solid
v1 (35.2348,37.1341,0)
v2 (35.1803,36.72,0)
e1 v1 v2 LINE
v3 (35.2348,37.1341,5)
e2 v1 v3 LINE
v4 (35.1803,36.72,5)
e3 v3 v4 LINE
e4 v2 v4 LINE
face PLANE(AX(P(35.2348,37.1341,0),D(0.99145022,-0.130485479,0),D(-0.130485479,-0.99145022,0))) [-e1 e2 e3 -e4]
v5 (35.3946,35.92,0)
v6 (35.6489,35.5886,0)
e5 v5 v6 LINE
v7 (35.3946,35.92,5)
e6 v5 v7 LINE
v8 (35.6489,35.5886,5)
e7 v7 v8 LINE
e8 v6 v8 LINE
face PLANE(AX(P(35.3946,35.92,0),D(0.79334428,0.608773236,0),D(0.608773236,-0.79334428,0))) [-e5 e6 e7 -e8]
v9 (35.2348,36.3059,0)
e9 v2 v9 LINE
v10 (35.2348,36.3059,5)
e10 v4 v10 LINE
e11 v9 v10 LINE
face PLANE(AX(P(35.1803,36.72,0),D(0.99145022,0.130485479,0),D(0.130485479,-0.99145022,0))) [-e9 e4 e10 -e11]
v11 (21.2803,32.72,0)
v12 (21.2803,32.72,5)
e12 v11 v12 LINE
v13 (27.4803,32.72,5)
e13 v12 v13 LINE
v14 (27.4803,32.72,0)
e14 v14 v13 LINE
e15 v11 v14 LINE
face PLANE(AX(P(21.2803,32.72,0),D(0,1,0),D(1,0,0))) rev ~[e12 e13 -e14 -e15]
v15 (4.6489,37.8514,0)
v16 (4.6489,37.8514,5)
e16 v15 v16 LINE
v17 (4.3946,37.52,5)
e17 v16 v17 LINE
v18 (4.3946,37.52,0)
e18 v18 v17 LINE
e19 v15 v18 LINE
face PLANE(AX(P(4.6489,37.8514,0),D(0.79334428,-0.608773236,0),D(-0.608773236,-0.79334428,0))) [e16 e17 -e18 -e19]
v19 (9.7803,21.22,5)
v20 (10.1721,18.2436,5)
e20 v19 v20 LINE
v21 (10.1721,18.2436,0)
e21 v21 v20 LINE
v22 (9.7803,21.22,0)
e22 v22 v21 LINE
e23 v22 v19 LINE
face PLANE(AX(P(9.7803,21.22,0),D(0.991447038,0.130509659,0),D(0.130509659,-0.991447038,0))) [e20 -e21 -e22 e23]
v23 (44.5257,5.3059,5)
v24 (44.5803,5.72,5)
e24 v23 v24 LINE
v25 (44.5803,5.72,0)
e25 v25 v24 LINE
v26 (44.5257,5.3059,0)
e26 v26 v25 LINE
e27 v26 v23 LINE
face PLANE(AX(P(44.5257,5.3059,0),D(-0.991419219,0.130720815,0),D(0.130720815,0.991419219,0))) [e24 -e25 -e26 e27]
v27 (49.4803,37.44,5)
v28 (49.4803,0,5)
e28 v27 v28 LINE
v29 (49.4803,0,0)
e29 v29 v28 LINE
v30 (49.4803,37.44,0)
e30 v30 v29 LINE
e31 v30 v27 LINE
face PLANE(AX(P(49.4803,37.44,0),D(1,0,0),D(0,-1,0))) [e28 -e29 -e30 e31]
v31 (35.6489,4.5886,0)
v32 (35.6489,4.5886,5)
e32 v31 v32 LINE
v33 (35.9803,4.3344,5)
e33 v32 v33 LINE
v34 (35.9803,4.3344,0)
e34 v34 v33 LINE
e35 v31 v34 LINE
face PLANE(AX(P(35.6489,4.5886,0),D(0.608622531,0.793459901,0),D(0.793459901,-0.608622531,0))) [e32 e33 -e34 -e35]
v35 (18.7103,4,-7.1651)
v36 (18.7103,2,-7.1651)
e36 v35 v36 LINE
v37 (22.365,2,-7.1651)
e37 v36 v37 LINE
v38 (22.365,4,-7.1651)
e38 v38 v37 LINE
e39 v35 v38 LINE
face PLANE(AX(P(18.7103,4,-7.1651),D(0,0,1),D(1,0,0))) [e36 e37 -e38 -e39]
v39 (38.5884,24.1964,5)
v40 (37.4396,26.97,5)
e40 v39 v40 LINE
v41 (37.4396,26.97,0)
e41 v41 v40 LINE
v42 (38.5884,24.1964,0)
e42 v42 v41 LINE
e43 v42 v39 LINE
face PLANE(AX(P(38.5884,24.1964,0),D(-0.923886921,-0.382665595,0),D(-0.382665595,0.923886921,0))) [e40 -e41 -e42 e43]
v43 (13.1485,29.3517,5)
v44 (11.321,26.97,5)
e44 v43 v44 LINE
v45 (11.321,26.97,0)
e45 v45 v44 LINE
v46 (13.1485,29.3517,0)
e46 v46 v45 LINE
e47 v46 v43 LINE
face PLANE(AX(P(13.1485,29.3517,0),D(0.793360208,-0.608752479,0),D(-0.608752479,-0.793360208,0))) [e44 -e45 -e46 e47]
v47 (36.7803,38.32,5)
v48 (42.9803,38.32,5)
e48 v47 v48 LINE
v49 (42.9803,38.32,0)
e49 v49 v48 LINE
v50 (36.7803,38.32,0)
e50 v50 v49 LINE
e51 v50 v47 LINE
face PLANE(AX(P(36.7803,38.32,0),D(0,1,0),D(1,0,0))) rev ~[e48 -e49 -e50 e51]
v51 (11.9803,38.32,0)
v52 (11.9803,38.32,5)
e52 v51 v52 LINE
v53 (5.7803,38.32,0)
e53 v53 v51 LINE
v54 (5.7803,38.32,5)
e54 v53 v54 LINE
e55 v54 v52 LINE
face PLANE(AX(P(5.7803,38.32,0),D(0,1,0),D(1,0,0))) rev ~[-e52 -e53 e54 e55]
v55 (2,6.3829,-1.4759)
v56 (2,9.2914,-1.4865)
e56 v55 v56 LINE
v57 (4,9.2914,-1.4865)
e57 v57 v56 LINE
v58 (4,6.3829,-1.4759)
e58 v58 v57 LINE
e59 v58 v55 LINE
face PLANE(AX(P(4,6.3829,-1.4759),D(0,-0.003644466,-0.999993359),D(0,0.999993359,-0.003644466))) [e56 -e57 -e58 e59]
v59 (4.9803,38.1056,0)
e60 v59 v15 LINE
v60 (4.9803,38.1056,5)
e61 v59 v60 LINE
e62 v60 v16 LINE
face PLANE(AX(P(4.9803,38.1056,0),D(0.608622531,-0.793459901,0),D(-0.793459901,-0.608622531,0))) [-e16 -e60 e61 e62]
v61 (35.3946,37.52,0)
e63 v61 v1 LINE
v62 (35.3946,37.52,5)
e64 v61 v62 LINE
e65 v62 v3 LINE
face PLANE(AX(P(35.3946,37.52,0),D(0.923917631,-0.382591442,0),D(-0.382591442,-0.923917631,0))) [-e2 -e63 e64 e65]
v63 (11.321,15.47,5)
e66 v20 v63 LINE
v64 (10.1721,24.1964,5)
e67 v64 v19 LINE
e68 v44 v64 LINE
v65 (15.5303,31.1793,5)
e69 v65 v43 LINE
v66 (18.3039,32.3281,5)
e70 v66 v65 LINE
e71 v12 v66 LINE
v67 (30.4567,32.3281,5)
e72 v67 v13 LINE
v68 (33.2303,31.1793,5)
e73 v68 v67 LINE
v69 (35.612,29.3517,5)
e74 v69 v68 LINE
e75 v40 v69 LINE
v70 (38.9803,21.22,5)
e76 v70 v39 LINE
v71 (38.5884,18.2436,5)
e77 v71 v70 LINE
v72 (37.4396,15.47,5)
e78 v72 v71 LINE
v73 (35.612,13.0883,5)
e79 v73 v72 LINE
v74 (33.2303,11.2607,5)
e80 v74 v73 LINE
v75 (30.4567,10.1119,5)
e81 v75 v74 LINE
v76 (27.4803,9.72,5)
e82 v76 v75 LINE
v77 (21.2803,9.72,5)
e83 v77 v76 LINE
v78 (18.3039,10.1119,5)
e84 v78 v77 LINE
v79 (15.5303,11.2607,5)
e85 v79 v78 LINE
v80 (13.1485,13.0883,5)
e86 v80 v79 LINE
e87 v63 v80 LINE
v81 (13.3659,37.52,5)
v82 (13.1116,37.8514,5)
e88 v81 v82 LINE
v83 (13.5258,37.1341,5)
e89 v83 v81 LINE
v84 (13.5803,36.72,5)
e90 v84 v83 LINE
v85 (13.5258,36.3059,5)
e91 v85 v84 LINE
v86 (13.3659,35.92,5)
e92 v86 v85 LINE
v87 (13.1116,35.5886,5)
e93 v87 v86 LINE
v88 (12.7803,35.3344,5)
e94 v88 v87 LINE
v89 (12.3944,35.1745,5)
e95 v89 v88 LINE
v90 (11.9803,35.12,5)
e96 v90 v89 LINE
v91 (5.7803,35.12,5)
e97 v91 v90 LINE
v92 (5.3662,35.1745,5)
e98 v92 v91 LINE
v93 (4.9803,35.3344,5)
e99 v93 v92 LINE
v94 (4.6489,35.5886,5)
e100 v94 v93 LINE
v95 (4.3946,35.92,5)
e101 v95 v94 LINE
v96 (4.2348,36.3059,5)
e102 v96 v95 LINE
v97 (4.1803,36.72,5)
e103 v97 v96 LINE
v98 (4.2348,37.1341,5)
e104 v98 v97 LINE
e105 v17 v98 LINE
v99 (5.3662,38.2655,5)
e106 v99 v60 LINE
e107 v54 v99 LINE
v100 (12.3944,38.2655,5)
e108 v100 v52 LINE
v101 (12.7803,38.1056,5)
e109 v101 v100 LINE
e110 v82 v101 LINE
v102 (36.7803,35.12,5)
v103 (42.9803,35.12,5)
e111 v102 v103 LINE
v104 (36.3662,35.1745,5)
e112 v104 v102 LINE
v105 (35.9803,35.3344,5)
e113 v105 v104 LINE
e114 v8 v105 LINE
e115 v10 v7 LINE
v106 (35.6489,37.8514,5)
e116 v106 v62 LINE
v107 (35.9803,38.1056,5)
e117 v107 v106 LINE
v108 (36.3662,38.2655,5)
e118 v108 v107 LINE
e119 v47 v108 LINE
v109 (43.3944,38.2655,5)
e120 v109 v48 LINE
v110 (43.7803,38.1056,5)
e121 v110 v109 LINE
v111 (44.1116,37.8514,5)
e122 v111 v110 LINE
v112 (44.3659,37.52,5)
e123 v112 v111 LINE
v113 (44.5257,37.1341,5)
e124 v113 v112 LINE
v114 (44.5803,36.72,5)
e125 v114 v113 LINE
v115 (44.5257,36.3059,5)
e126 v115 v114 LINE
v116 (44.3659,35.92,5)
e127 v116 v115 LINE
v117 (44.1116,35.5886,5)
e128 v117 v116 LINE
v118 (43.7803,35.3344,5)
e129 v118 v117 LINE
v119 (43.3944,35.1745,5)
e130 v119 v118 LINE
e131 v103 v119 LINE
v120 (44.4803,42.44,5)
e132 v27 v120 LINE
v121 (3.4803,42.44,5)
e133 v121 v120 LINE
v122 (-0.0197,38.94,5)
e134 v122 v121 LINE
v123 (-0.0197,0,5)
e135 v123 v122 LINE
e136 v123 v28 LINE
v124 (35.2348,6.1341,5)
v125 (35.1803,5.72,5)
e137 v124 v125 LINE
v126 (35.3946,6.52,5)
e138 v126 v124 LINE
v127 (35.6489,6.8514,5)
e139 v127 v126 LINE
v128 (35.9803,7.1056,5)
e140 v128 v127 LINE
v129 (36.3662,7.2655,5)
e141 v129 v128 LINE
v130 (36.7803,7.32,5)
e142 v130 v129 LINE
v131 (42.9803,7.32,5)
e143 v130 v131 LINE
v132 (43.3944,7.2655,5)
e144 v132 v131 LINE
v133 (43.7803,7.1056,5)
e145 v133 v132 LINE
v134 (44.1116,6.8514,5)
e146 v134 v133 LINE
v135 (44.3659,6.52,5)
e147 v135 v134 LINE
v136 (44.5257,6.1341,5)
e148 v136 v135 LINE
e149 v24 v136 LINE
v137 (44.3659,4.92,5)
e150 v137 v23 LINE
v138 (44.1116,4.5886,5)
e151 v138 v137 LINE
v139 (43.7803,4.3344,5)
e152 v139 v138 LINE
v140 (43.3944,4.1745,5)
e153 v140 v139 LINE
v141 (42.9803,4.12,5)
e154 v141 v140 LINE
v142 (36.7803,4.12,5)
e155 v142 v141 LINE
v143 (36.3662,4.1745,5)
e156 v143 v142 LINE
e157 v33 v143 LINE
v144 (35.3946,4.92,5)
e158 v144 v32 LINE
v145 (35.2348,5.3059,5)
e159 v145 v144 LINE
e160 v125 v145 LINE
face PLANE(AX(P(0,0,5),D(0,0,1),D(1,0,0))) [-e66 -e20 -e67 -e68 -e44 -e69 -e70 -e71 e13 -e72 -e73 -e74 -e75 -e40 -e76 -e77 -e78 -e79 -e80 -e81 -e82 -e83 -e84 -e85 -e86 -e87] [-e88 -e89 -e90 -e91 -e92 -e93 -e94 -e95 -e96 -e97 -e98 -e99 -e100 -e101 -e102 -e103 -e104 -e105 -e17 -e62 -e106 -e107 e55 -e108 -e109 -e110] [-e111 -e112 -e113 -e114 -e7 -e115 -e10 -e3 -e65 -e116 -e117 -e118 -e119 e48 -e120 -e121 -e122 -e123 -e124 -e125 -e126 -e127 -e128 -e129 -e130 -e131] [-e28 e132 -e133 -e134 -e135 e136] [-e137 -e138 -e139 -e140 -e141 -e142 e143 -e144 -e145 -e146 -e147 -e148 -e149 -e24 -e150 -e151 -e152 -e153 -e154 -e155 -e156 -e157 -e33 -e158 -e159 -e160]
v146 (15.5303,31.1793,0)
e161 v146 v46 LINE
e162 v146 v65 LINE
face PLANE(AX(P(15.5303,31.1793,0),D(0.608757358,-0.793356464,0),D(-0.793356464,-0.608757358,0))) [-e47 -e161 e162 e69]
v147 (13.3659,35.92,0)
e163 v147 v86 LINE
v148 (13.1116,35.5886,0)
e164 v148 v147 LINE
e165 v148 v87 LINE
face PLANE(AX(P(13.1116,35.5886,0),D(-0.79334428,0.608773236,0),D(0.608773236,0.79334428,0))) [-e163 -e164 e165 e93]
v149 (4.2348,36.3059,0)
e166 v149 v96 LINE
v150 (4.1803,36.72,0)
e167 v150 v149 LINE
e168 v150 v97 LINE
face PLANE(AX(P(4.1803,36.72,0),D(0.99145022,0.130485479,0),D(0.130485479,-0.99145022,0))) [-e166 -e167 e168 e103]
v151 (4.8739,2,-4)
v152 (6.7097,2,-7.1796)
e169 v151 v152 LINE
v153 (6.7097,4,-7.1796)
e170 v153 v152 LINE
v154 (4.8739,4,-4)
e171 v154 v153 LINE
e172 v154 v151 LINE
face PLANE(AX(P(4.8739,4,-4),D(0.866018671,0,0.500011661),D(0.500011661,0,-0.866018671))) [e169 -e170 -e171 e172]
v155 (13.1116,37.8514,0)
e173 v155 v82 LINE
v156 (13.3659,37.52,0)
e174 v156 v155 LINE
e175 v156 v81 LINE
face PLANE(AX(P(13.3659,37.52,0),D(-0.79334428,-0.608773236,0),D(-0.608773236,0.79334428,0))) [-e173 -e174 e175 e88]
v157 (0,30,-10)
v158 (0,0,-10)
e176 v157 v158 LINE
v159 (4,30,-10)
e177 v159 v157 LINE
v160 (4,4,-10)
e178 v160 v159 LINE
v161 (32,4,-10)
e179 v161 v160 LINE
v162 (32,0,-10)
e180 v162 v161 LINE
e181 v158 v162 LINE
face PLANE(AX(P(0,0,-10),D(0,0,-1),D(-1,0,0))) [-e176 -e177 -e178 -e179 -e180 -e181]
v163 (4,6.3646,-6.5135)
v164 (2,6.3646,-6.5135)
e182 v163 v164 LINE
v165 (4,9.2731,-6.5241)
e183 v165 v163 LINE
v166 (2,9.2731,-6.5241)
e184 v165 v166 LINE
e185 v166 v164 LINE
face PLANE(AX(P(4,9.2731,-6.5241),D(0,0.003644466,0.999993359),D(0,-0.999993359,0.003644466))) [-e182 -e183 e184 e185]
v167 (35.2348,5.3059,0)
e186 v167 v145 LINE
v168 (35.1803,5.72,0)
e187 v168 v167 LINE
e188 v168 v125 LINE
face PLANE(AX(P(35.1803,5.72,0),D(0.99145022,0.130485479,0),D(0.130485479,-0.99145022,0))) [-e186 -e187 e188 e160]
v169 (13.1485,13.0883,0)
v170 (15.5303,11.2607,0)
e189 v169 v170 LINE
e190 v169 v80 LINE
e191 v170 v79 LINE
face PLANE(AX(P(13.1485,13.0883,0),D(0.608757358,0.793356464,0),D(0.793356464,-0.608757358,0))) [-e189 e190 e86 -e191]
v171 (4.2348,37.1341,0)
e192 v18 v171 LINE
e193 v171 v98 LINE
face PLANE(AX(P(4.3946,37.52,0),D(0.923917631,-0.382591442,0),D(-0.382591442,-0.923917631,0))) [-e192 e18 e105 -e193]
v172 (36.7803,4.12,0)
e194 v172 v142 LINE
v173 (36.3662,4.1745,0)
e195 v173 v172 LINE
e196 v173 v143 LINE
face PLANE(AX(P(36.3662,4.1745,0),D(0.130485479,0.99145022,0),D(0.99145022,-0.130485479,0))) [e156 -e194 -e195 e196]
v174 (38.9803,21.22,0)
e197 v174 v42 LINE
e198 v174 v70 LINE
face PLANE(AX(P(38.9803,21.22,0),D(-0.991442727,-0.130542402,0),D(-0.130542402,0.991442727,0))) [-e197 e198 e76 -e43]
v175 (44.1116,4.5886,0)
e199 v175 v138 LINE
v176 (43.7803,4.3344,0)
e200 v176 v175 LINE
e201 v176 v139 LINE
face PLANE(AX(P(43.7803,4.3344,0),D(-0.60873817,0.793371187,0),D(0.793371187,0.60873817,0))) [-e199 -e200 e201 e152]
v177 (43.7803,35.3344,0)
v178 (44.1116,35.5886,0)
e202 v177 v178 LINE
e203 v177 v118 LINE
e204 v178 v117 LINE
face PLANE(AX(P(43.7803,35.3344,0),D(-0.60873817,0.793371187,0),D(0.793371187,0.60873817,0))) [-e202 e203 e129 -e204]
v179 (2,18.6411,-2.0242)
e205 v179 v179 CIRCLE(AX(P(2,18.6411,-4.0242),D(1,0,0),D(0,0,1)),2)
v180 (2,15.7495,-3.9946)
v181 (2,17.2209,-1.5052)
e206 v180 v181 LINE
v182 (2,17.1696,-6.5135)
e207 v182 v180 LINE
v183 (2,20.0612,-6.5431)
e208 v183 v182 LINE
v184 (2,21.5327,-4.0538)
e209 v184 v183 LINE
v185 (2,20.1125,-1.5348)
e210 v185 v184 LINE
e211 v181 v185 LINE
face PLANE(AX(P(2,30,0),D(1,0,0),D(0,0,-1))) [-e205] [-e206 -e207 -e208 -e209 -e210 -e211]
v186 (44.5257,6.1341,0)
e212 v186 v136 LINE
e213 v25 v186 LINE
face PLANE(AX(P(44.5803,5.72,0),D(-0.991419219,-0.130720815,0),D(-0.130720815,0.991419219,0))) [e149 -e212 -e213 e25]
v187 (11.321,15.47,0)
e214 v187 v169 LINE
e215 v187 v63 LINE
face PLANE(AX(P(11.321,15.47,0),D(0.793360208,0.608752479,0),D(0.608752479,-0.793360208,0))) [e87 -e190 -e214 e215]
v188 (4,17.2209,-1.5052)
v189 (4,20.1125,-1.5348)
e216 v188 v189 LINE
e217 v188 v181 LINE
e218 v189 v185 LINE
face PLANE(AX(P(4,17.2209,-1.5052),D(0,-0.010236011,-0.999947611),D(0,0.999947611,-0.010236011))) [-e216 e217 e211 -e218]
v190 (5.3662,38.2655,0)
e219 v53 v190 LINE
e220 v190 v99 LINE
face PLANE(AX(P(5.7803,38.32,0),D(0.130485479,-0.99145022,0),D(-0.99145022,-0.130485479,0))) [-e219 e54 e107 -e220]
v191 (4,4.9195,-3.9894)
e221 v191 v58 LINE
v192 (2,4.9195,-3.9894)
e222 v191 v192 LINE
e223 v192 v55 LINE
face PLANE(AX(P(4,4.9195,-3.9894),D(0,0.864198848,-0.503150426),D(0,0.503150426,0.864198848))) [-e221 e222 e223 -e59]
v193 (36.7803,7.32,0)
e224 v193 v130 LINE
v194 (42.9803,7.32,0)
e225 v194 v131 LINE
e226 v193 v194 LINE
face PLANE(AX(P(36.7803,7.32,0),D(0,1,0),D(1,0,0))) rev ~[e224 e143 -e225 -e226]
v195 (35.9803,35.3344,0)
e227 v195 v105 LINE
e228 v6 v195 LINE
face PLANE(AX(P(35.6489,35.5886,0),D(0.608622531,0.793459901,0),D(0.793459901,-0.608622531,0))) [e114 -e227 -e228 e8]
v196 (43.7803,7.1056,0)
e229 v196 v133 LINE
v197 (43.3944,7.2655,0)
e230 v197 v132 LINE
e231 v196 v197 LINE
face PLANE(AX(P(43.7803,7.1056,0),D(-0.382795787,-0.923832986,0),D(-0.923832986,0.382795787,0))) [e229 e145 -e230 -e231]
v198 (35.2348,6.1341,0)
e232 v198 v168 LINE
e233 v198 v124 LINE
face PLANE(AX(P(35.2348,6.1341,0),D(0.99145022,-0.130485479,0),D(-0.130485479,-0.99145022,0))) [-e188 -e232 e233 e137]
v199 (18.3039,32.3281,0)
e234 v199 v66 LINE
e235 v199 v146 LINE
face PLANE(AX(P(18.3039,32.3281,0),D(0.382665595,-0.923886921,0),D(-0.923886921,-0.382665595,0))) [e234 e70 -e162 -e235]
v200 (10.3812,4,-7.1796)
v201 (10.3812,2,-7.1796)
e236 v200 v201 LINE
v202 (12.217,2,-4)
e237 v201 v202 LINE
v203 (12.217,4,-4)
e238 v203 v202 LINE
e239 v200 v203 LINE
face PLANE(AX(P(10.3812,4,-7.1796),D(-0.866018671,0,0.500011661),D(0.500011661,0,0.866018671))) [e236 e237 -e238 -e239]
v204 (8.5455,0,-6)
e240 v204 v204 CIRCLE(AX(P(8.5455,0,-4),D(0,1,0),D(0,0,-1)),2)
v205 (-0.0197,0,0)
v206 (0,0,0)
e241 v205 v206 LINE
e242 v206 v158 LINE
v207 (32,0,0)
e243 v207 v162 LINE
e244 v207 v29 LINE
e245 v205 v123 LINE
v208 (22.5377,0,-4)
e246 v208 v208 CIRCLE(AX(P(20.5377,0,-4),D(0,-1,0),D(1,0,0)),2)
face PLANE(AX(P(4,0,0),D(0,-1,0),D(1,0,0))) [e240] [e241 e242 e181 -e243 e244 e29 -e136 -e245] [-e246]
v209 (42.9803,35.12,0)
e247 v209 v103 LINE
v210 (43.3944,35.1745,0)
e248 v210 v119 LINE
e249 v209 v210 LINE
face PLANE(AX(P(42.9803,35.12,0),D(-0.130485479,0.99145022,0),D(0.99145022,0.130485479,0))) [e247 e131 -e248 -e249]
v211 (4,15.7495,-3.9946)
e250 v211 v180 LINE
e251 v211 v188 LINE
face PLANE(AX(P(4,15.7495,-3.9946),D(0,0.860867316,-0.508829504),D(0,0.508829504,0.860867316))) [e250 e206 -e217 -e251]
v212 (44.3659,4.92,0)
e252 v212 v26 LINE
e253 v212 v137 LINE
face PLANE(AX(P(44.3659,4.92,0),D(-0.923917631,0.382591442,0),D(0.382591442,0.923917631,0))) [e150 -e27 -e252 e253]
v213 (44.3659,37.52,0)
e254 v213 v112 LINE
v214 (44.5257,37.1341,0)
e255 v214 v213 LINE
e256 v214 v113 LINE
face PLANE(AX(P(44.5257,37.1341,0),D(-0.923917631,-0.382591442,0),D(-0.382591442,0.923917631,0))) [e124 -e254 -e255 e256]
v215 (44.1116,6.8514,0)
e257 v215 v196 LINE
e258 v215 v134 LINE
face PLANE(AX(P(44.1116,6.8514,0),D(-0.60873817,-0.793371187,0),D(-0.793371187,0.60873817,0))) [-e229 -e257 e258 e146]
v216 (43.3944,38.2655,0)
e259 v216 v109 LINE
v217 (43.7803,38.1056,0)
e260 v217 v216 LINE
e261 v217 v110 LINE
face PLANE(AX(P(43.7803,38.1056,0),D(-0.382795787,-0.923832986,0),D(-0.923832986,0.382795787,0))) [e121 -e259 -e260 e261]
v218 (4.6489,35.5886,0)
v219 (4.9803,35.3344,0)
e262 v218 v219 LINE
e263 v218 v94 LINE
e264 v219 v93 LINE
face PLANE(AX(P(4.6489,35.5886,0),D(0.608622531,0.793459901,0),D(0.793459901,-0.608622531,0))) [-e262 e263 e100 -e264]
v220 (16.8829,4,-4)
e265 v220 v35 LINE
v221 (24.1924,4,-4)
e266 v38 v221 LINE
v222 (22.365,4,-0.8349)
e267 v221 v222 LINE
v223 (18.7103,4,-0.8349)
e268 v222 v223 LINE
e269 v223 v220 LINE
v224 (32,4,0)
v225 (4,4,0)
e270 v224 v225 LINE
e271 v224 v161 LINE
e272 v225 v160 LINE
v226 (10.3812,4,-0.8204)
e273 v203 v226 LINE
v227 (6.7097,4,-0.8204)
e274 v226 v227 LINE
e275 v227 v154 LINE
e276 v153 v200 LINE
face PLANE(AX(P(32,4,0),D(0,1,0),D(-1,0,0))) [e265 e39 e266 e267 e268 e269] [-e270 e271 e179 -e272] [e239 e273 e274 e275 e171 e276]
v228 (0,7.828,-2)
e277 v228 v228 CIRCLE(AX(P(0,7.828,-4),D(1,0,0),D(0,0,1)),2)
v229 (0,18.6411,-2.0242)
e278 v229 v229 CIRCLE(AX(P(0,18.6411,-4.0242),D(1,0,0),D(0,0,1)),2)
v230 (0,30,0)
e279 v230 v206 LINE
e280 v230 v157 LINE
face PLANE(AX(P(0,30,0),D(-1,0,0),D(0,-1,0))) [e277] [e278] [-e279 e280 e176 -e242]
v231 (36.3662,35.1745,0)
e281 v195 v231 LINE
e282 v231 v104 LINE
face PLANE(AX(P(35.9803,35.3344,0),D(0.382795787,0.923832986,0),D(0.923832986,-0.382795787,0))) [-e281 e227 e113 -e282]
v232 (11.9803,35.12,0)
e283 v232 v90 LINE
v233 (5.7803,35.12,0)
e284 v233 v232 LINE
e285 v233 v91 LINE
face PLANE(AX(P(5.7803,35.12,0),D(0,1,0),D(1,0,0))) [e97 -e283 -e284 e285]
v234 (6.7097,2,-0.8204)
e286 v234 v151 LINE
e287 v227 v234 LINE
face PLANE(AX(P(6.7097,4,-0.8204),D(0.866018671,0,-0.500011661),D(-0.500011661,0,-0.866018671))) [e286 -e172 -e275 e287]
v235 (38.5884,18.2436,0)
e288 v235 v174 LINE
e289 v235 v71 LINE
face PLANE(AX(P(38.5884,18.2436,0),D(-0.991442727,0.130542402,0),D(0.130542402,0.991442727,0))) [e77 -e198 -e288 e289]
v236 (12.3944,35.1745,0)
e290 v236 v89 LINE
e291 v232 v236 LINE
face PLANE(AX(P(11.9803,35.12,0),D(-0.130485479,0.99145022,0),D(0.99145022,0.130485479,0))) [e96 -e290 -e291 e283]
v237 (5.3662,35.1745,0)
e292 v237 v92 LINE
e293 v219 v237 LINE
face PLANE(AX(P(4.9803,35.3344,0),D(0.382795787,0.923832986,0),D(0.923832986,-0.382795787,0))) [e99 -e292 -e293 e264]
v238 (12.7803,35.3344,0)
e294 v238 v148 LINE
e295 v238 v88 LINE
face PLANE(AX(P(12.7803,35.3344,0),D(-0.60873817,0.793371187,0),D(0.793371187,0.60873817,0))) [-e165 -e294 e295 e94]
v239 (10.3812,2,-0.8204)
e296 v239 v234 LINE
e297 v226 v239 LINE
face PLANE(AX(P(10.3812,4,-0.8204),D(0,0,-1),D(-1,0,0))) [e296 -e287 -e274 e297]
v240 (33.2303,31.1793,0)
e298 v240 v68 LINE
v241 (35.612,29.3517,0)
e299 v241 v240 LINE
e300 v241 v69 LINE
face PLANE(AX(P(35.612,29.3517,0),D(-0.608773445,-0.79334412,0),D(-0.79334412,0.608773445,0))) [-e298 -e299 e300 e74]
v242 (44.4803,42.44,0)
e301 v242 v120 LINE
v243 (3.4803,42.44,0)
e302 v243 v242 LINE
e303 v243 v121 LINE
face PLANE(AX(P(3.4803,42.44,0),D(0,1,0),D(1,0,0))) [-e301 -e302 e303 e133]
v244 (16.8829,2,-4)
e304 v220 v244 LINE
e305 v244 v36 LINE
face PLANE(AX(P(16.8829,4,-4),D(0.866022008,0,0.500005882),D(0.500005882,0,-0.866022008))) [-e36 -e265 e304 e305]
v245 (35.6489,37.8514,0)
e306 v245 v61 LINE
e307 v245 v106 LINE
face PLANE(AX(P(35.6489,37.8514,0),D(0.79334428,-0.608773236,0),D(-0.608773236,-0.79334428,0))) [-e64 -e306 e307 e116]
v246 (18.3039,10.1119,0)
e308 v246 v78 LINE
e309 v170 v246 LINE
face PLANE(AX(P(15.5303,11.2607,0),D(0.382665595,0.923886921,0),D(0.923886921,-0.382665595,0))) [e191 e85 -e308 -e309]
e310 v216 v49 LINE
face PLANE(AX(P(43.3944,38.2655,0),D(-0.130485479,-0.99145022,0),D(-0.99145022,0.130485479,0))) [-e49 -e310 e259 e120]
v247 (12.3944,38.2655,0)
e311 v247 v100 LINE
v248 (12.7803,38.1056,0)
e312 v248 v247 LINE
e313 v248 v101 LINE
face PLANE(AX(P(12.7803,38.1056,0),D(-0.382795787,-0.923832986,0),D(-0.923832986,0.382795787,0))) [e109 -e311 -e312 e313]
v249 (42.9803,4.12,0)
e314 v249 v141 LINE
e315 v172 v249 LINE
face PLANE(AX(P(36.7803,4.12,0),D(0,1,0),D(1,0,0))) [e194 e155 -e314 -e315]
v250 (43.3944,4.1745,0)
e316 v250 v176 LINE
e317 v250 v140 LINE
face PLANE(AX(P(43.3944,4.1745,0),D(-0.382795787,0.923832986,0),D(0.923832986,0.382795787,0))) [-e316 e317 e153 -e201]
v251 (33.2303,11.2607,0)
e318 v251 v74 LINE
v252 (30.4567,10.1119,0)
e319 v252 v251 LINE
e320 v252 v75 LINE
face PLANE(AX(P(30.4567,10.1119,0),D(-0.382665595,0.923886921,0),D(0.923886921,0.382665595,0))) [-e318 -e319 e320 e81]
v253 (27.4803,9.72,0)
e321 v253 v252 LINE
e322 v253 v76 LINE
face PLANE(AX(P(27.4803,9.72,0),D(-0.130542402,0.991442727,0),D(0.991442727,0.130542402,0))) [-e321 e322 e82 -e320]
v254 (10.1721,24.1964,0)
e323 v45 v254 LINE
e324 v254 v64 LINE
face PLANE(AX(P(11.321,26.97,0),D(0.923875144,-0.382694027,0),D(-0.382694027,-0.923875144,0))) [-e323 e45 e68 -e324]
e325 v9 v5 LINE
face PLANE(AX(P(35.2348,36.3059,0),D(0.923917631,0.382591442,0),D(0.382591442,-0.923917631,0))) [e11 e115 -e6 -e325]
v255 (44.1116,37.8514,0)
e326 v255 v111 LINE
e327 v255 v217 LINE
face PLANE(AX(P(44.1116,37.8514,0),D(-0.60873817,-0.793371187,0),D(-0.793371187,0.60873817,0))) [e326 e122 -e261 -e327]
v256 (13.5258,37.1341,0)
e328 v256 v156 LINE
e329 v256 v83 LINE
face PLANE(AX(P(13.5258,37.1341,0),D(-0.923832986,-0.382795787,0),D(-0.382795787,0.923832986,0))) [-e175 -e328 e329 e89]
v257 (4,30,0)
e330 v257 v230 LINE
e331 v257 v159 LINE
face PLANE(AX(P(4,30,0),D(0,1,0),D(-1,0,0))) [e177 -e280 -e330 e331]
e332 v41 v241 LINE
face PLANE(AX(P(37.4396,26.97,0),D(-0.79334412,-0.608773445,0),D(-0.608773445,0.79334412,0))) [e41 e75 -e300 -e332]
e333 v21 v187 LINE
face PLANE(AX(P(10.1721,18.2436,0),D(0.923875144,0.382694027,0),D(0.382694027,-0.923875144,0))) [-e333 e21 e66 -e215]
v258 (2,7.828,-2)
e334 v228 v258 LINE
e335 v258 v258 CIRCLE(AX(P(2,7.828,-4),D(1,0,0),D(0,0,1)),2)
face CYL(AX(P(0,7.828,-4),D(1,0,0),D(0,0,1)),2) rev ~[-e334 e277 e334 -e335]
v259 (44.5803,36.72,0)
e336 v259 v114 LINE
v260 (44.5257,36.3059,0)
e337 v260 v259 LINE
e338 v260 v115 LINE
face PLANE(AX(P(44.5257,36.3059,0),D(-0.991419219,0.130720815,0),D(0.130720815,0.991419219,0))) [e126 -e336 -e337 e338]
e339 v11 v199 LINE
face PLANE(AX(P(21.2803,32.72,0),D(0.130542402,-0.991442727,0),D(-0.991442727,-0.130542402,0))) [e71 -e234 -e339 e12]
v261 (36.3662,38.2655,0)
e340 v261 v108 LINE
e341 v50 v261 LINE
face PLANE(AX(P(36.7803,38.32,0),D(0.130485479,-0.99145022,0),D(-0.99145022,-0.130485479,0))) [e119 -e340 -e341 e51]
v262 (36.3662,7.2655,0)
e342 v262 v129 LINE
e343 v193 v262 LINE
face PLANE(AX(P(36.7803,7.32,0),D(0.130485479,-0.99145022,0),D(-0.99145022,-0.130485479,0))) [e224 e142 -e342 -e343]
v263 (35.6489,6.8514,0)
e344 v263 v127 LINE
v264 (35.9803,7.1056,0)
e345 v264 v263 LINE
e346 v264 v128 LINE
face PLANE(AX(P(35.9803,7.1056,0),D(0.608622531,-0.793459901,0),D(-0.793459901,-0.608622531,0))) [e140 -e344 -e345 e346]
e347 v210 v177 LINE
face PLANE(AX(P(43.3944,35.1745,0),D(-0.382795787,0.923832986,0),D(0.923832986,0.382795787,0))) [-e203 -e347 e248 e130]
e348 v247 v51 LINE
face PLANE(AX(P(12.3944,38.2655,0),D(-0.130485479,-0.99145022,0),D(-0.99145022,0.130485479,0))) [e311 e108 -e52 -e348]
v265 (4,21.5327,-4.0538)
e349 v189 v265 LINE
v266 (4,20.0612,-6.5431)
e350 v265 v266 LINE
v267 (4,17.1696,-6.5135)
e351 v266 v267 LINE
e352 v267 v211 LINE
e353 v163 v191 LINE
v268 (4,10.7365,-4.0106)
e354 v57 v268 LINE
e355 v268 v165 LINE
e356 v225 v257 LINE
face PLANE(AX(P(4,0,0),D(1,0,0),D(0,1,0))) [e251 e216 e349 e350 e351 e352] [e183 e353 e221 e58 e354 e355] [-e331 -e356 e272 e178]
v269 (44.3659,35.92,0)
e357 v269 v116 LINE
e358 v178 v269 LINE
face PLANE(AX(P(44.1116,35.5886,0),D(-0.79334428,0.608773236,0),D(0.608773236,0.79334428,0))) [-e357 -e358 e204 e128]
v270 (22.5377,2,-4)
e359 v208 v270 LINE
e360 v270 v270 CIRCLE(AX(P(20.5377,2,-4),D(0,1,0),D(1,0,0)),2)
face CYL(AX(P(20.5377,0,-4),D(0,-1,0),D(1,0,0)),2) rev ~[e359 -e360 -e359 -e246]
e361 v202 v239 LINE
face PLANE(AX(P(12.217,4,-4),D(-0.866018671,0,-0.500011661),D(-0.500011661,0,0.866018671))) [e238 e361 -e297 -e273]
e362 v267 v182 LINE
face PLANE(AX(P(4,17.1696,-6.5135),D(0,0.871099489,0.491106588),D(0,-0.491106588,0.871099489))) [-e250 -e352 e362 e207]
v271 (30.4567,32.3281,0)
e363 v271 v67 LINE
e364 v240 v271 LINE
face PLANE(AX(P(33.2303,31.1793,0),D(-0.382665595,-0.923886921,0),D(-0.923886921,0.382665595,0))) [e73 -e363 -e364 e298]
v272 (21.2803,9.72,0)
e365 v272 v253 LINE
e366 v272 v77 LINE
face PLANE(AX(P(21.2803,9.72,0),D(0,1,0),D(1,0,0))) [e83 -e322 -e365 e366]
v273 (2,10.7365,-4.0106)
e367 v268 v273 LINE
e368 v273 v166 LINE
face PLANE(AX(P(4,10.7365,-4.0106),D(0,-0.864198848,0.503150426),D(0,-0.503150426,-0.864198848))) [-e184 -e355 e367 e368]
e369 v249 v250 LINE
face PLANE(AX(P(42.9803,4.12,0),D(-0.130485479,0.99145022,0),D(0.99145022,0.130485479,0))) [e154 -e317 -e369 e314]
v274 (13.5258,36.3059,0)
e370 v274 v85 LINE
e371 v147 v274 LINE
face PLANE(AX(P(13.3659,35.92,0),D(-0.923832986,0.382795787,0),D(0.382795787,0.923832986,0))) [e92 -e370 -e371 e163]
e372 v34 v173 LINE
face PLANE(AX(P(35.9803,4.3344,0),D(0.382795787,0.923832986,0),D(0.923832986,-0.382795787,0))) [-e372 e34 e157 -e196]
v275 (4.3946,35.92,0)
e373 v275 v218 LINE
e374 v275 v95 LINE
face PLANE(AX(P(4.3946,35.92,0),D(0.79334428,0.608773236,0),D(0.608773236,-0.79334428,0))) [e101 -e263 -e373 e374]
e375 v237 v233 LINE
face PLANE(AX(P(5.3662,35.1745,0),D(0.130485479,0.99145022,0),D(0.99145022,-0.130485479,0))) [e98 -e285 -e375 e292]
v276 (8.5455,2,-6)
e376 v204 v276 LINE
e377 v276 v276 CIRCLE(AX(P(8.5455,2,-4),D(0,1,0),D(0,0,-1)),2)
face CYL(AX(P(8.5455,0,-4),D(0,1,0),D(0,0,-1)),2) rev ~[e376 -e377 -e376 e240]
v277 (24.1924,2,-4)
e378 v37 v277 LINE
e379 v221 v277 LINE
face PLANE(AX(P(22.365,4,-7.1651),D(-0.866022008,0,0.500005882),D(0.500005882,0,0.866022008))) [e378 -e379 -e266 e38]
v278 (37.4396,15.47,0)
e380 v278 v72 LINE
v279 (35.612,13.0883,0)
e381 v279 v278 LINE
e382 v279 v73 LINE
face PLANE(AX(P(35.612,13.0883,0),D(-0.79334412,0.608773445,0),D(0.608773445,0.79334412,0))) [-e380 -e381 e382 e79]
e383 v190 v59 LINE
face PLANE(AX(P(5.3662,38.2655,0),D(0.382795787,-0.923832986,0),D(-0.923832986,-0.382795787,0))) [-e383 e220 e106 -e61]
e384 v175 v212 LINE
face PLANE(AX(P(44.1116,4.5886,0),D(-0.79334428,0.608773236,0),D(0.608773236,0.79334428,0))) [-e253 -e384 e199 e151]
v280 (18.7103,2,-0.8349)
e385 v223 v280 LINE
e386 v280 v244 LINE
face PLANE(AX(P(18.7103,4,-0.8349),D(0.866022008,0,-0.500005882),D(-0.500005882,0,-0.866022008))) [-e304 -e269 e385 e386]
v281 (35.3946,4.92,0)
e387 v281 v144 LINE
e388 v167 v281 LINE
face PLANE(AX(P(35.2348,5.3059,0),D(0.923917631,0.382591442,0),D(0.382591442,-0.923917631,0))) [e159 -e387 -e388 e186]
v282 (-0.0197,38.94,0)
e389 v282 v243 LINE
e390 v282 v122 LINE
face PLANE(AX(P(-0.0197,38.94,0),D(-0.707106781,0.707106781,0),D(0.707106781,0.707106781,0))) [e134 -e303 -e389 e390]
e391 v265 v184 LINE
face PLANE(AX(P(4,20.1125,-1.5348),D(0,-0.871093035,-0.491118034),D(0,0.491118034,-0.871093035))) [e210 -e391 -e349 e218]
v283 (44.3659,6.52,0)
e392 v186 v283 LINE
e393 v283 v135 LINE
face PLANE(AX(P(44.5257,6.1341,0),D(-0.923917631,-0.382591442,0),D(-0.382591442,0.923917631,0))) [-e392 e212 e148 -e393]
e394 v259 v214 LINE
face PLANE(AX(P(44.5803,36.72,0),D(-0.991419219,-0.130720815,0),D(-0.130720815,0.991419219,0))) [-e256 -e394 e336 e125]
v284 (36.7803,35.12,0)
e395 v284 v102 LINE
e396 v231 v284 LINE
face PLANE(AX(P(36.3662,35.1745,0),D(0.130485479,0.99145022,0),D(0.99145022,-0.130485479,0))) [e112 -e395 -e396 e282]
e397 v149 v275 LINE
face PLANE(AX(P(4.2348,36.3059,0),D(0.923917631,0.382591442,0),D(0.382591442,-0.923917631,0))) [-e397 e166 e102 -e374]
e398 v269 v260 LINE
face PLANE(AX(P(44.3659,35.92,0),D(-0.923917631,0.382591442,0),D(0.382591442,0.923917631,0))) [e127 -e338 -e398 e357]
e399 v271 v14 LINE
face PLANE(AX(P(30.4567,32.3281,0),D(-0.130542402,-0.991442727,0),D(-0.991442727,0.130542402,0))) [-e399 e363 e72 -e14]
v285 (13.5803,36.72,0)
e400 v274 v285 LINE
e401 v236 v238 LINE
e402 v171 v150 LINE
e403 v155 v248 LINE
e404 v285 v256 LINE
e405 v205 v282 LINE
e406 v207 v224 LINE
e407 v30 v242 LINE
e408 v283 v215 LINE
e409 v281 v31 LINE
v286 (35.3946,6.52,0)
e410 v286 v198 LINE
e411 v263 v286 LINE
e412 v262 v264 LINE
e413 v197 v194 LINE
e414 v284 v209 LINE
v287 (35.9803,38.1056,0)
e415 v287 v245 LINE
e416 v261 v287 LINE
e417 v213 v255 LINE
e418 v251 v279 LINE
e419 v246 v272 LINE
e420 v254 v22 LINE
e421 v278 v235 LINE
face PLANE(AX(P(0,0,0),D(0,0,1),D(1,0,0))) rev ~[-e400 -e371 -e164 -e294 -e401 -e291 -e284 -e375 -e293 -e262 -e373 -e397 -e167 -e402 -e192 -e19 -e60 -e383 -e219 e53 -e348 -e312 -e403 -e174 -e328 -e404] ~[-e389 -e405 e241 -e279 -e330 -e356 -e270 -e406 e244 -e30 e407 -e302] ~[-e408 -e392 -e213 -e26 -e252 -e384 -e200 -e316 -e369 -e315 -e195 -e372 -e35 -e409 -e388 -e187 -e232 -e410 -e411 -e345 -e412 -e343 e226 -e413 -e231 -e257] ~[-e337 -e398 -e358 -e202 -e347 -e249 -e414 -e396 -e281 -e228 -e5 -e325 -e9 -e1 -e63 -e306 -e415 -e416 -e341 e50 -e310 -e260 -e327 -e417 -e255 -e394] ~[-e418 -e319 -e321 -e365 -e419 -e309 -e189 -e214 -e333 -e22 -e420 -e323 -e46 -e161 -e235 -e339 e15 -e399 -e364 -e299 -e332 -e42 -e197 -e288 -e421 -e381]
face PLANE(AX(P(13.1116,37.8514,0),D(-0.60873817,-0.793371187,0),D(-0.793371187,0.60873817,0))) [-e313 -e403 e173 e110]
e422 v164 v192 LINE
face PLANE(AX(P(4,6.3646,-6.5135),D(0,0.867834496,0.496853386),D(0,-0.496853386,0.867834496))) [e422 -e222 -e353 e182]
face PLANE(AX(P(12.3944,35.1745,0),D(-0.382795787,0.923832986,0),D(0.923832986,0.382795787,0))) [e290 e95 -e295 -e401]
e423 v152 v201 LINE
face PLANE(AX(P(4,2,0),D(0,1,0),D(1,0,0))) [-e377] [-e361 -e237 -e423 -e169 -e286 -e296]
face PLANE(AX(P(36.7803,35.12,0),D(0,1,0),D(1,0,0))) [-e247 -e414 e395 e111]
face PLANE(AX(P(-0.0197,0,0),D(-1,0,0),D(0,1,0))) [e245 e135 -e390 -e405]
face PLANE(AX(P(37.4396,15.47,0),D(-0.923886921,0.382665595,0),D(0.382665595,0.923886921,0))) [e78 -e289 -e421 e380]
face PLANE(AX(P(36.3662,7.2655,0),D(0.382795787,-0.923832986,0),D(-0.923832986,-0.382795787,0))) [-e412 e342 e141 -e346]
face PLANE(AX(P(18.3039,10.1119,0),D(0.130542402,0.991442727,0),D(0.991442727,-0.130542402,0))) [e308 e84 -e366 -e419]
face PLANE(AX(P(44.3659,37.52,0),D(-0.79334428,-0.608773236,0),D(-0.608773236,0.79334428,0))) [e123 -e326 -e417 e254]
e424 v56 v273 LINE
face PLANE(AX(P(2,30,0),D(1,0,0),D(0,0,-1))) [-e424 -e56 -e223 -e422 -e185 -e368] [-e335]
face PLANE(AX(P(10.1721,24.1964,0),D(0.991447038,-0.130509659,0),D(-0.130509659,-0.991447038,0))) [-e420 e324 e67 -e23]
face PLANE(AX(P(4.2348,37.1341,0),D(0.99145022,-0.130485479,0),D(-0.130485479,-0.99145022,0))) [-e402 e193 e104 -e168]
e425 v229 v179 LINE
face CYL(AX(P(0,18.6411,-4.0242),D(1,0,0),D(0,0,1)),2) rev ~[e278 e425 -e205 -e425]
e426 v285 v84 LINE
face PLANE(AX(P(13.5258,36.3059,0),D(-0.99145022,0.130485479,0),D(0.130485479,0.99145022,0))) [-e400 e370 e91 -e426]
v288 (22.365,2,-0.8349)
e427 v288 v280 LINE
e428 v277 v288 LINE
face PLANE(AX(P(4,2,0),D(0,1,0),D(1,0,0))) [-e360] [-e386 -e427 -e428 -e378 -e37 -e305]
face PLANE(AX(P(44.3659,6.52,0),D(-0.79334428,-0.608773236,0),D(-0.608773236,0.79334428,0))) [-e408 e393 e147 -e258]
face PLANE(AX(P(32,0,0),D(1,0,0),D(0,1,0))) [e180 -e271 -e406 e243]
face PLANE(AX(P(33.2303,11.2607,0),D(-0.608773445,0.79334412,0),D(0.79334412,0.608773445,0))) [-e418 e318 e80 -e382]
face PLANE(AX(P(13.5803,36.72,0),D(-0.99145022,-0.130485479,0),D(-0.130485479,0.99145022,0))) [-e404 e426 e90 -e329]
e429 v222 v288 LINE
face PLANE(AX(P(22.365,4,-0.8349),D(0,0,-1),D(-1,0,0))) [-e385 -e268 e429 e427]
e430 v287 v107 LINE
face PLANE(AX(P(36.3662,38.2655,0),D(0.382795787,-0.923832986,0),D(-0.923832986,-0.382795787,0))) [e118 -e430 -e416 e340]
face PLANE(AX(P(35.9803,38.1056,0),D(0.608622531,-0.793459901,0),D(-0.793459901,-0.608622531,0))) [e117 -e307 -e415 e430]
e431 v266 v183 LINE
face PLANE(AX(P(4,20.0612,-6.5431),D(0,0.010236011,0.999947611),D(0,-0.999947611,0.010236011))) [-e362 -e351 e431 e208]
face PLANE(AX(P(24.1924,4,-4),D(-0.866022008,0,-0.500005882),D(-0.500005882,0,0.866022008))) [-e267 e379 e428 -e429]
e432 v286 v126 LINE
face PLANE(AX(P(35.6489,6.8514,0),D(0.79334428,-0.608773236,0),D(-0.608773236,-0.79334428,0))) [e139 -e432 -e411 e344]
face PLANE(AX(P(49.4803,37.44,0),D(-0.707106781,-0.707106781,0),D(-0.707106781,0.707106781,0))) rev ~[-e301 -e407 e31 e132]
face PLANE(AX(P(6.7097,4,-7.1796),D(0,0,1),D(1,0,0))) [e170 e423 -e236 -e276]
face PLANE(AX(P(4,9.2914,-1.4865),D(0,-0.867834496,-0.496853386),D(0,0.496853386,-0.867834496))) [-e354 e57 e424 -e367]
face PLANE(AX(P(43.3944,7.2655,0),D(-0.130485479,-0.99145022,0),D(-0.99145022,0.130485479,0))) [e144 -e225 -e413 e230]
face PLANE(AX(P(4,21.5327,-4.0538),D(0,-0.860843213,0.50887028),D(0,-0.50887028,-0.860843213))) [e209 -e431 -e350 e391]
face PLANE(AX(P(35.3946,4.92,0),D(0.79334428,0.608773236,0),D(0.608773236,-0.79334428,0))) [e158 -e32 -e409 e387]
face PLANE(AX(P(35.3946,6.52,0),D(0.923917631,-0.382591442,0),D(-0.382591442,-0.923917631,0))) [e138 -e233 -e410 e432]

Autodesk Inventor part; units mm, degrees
ref_plane "YZ Plane" through (0, 0, 0) normal (1, 0, 0) x (0, 1, 0)
ref_plane "XZ Plane" through (0, 0, 0) normal (0, 1, 0) x (-1, 0, 0)
ref_plane "XY Plane" through (0, 0, 0) normal (0, 0, 1) x (1, 0, 0)
sketch "Sketch2" plane through (0, 0, 0) normal (0, 0, 1) x (1, 0, 0)
  line L0 (49.4803, 37.44) -> (44.4803, 42.44)
  line L1 (5.7803, 38.32) -> (5.3662, 38.2655)
  line L2 (4.9803, 38.1056) -> (4.6489, 37.8514)
  line L3 (3.4803, 42.44) -> (44.4803, 42.44)
  line L4 (-0.0197, 38.94) -> (3.4803, 42.44)
  line L5 (-0.0197, 0) -> (49.4803, 0)
  line L6 (49.4803, 37.44) -> (49.4803, 0)
  line L7 (4.2348, 36.3059) -> (4.3946, 35.92)
  line L8 (10.1721, 18.2436) -> (11.321, 15.47)
  line L9 (35.2348, 6.1341) -> (35.1803, 5.72)
  line L10 (4.6489, 35.5886) -> (4.9803, 35.3344)
  line L11 (36.7803, 38.32) -> (36.3662, 38.2655)
  line L12 (36.3662, 35.1745) -> (36.7803, 35.12)
  line L13 (35.3946, 35.92) -> (35.6489, 35.5886)
  line L14 (35.1803, 36.72) -> (35.2348, 36.3059)
  line L15 (35.2348, 5.3059) -> (35.3946, 4.92)
  line L16 (21.2803, 32.72) -> (18.3039, 32.3281)
  line L17 (35.2348, 37.1341) -> (35.1803, 36.72)
  line L18 (35.3946, 6.52) -> (35.2348, 6.1341)
  line L19 (35.9803, 7.1056) -> (35.6489, 6.8514)
  line L20 (36.7803, 7.32) -> (36.3662, 7.2655)
  line L21 (35.6489, 6.8514) -> (35.3946, 6.52)
  line L22 (35.9803, 35.3344) -> (36.3662, 35.1745)
  line L23 (4.6489, 37.8514) -> (4.3946, 37.52)
  line L24 (5.3662, 38.2655) -> (4.9803, 38.1056)
  line L25 (4.3946, 35.92) -> (4.6489, 35.5886)
  line L26 (35.6489, 35.5886) -> (35.9803, 35.3344)
  line L27 (36.3662, 38.2655) -> (35.9803, 38.1056)
  line L28 (5.3662, 35.1745) -> (5.7803, 35.12)
  line L29 (4.9803, 35.3344) -> (5.3662, 35.1745)
  line L30 (4.1803, 36.72) -> (4.2348, 36.3059)
  line L31 (4.2348, 37.1341) -> (4.1803, 36.72)
  line L32 (4.3946, 37.52) -> (4.2348, 37.1341)
  line L33 (18.3039, 10.1119) -> (21.2803, 9.72)
  line L34 (15.5303, 11.2607) -> (18.3039, 10.1119)
  line L35 (13.1485, 13.0883) -> (15.5303, 11.2607)
  line L36 (11.321, 15.47) -> (13.1485, 13.0883)
  line L37 (9.7803, 21.22) -> (10.1721, 18.2436)
  line L38 (10.1721, 24.1964) -> (9.7803, 21.22)
  line L39 (11.321, 26.97) -> (10.1721, 24.1964)
  line L40 (13.1485, 29.3517) -> (11.321, 26.97)
  line L41 (15.5303, 31.1793) -> (13.1485, 29.3517)
  line L42 (18.3039, 32.3281) -> (15.5303, 31.1793)
  line L43 (36.3662, 7.2655) -> (35.9803, 7.1056)
  line L44 (36.3662, 4.1745) -> (36.7803, 4.12)
  line L45 (35.9803, 4.3344) -> (36.3662, 4.1745)
  line L46 (35.6489, 4.5886) -> (35.9803, 4.3344)
  line L47 (35.3946, 4.92) -> (35.6489, 4.5886)
  line L48 (35.1803, 5.72) -> (35.2348, 5.3059)
  line L49 (35.2348, 36.3059) -> (35.3946, 35.92)
  line L50 (35.3946, 37.52) -> (35.2348, 37.1341)
  line L51 (35.6489, 37.8514) -> (35.3946, 37.52)
  line L52 (35.9803, 38.1056) -> (35.6489, 37.8514)
  line L53 (27.4803, 9.72) -> (30.4567, 10.1119)
  line L54 (35.612, 29.3517) -> (33.2303, 31.1793)
  line L55 (38.5884, 24.1964) -> (37.4396, 26.97)
  line L56 (12.7803, 35.3344) -> (13.1116, 35.5886)
  line L57 (30.4567, 10.1119) -> (33.2303, 11.2607)
  line L58 (38.9803, 21.22) -> (38.5884, 24.1964)
  line L59 (43.7803, 35.3344) -> (44.1116, 35.5886)
  line L60 (44.5257, 6.1341) -> (44.3659, 6.52)
  line L61 (38.5884, 18.2436) -> (38.9803, 21.22)
  line L62 (44.3659, 37.52) -> (44.1116, 37.8514)
  line L63 (44.1116, 37.8514) -> (43.7803, 38.1056)
  line L64 (13.3659, 35.92) -> (13.5258, 36.3059)
  line L65 (44.1116, 4.5886) -> (44.3659, 4.92)
  line L66 (43.3944, 38.2655) -> (42.9803, 38.32)
  line L67 (30.4567, 32.3281) -> (27.4803, 32.72)
  line L68 (44.1116, 35.5886) -> (44.3659, 35.92)
  line L69 (35.612, 13.0883) -> (37.4396, 15.47)
  line L70 (37.4396, 26.97) -> (35.612, 29.3517)
  line L71 (37.4396, 15.47) -> (38.5884, 18.2436)
  line L72 (43.7803, 4.3344) -> (44.1116, 4.5886)
  line L73 (13.1116, 37.8514) -> (12.7803, 38.1056)
  line L74 (33.2303, 31.1793) -> (30.4567, 32.3281)
  line L75 (12.7803, 38.1056) -> (12.3944, 38.2655)
  line L76 (44.3659, 6.52) -> (44.1116, 6.8514)
  line L77 (33.2303, 11.2607) -> (35.612, 13.0883)
  line L78 (42.9803, 4.12) -> (43.3944, 4.1745)
  line L79 (44.5257, 37.1341) -> (44.3659, 37.52)
  line L80 (43.7803, 7.1056) -> (43.3944, 7.2655)
  line L81 (44.5257, 5.3059) -> (44.5803, 5.72)
  line L82 (43.7803, 38.1056) -> (43.3944, 38.2655)
  line L83 (12.3944, 38.2655) -> (11.9803, 38.32)
  line L84 (44.3659, 35.92) -> (44.5257, 36.3059)
  line L85 (43.3944, 35.1745) -> (43.7803, 35.3344)
  line L86 (43.3944, 4.1745) -> (43.7803, 4.3344)
  line L87 (13.1116, 35.5886) -> (13.3659, 35.92)
  line L88 (11.9803, 35.12) -> (12.3944, 35.1745)
  line L89 (42.9803, 35.12) -> (43.3944, 35.1745)
  line L90 (44.5803, 5.72) -> (44.5257, 6.1341)
  line L91 (43.3944, 7.2655) -> (42.9803, 7.32)
  line L92 (13.5258, 36.3059) -> (13.5803, 36.72)
  line L93 (44.3659, 4.92) -> (44.5257, 5.3059)
  line L94 (13.5258, 37.1341) -> (13.3659, 37.52)
  line L95 (44.5803, 36.72) -> (44.5257, 37.1341)
  line L96 (44.5257, 36.3059) -> (44.5803, 36.72)
  line L97 (13.3659, 37.52) -> (13.1116, 37.8514)
  line L98 (44.1116, 6.8514) -> (43.7803, 7.1056)
  line L99 (12.3944, 35.1745) -> (12.7803, 35.3344)
  line L100 (13.5803, 36.72) -> (13.5258, 37.1341)
  line L101 (5.7803, 38.32) -> (11.9803, 38.32)
  line L102 (5.7803, 35.12) -> (11.9803, 35.12)
  line L103 (36.7803, 35.12) -> (42.9803, 35.12)
  line L104 (36.7803, 7.32) -> (42.9803, 7.32)
  line L105 (36.7803, 4.12) -> (42.9803, 4.12)
  line L106 (21.2803, 32.72) -> (27.4803, 32.72)
  line L107 (21.2803, 9.72) -> (27.4803, 9.72)
  line L108 (36.7803, 38.32) -> (42.9803, 38.32)
  line L109 (-0.0197, 0) -> (-0.0197, 38.94)
  point P0 (0, 0)
extrude "Extrusion1" add sketch "Sketch2" along normal blind 5
sketch "Sketch3" plane through (0, 0, 0) normal (0, 0, -1) x (-1, 0, 0)
  line L0 (0, 0) -> (-4, 0)
  line L1 (-4, 0) -> (-4, 30)
  line L2 (-4, 30) -> (0, 30)
  line L3 (0, 30) -> (0, 0)
  dimension "d2" = 4
  dimension "d3" = 30
extrude "Extrusion2" add sketch "Sketch3" along normal blind 10
sketch "Sketch4" plane through (0, 0, 0) normal (0, 0, -1) x (-1, 0, 0)
  line L0 (-4, 0) -> (-32, 0)
  line L1 (-32, 0) -> (-32, 4)
  line L2 (-32, 4) -> (-4, 4)
  line L3 (-4, 4) -> (-4, 0)
  dimension "d6" = 28
  dimension "d7" = 4
extrude "Extrusion3" add sketch "Sketch4" along normal blind 10
sketch "Sketch5" plane through (0, 0, 0) normal (-1, 0, 0) x (0, 0, 1)
  line L0 (0, 30) -> (0, 0) projected
  line L1 (0, 30) -> (-10, 30) projected
  line L2 (-10, 0) -> (-10, 30) projected
  line L3 (0, 0) -> (-10, 0) projected
  line L4 (-12.7767, 12.5) -> (11.2598, 12.5)
  line L5 (-4, 28.2185) -> (-4, -2.7903)
hole "Hole1" at (0, 7.828, -4) direction (1, 0, 0) diameter 4 end through all
hole "Hole2" at (0, 18.6411, -4.0242) direction (1, 0, 0) diameter 4 end through all
sketch "Sketch14" plane through (0, 0, -10) normal (0, -1, 0) x (1, 0, 0)
  line L0 (0, 10) -> (0, 0) projected
  line L1 (0, 0) -> (0, 6) construction
  line L2 (0, 6) -> (39.6978, 6) construction
  line L3 (8.5455, 8.0526) -> (8.5455, -2.848) construction
  line L4 (20.5377, 7.5413) -> (20.5377, -0.9308) construction
  circle A0 centre (8.5455, 6) radius 2
  circle A1 centre (20.5377, 6) radius 2
  dimension "d70" = 6
  dimension "d71" = 4
  dimension "d74" = 4
hole "Hole5" at (8.5455, 0, -4) direction (0, 1, 0) diameter 4 end through all
extrude "Extrusion11" cut sketch "Sketch14" against normal through all contours A1
sketch "Sketch15" plane through (4, 30, 0) normal (1, 0, 0) x (0, 0, -1)
  circle A0 centre (4.0242, -11.3589) radius 2 projected
  line L0 (3.9946, -14.2505) -> (1.5052, -12.7791)
  line L1 (1.5052, -12.7791) -> (1.5348, -9.8875)
  line L2 (1.5348, -9.8875) -> (4.0538, -8.4673)
  line L3 (4.0538, -8.4673) -> (6.5431, -9.9388)
  line L4 (6.5431, -9.9388) -> (6.5135, -12.8304)
  line L5 (6.5135, -12.8304) -> (3.9946, -14.2505)
  point P0 (0, -30)
extrude "Extrusion12" cut sketch "Sketch15" against normal blind 2
sketch "Sketch16" plane through (4, 30, 0) normal (1, 0, 0) x (0, 0, -1)
  circle A0 centre (4, -22.172) radius 2 projected
  line L0 (0, -26) -> (0, 0) projected
  line L1 (6.5135, -12.8304) -> (6.5135, -28.1931) construction
  line L2 (6.5135, -23.6354) -> (3.9894, -25.0805)
  line L3 (3.9894, -25.0805) -> (1.4759, -23.6171)
  line L4 (1.4759, -23.6171) -> (1.4865, -20.7086)
  line L5 (1.4865, -20.7086) -> (4.0106, -19.2635)
  line L6 (4.0106, -19.2635) -> (6.5241, -20.7269)
  line L7 (6.5241, -20.7269) -> (6.5135, -23.6354)
  point P0 (0, -30)
extrude "Extrusion13" cut sketch "Sketch16" against normal blind 2
sketch "Sketch17" plane through (4, 4, 0) normal (0, 1, 0) x (1, 0, 0)
  circle A0 centre (4.5455, 4) radius 2 projected
  line L0 (8.217, 4) -> (6.3812, 0.8204)
  line L1 (6.3812, 0.8204) -> (2.7097, 0.8204)
  line L2 (2.7097, 0.8204) -> (0.8739, 4)
  line L3 (0.8739, 4) -> (2.7097, 7.1796)
  line L4 (2.7097, 7.1796) -> (6.3812, 7.1796)
  line L5 (6.3812, 7.1796) -> (8.217, 4)
  point P0 (-4, 0)
extrude "Extrusion14" cut sketch "Sketch17" against normal blind 2
sketch "Sketch18" plane through (4, 4, 0) normal (0, 1, 0) x (1, 0, 0)
  circle A0 centre (16.5377, 4) radius 2 projected
  line L0 (20.1924, 4) -> (18.365, 0.8349)
  line L1 (18.365, 0.8349) -> (14.7103, 0.8349)
  line L2 (14.7103, 0.8349) -> (12.8829, 4)
  line L3 (12.8829, 4) -> (14.7103, 7.1651)
  line L4 (14.7103, 7.1651) -> (18.365, 7.1651)
  line L5 (18.365, 7.1651) -> (20.1924, 4)
  point P0 (-4, 0)
extrude "Extrusion15" cut sketch "Sketch18" against normal blind 2
sketch "Sketch19" plane through (4, 30, 0) normal (1, 0, 0) x (0, 0, -1)
  line L0 (6.5241, -20.7269) -> (6.5135, -23.6354) projected
  line L1 (6.5135, -23.6354) -> (3.9894, -25.0805) projected
  line L2 (3.9894, -25.0805) -> (1.4759, -23.6171) projected
  line L3 (1.4759, -23.6171) -> (1.4865, -20.7086) projected
  line L4 (1.4865, -20.7086) -> (4.0106, -19.2635) projected
  line L5 (4.0106, -19.2635) -> (6.5241, -20.7269) projected
  line L6 (6.5135, -12.8304) -> (3.9946, -14.2505) projected
  line L7 (3.9946, -14.2505) -> (1.5052, -12.7791) projected
  line L8 (1.5052, -12.7791) -> (1.5348, -9.8875) projected
  line L9 (1.5348, -9.8875) -> (4.0538, -8.4673) projected
  line L10 (4.0538, -8.4673) -> (6.5431, -9.9388) projected
  line L11 (6.5431, -9.9388) -> (6.5135, -12.8304) projected
  line L12 (0, -26) -> (10, -26) projected
  line L13 (10, 0) -> (10, -26) projected
  line L14 (0, 0) -> (10, 0) projected
  line L15 (0, -26) -> (0, 0) projected
  line L16 (4.0538, -22.1628) -> (7.7978, -22.1628) construction
  line L17 (7.7978, -22.1628) -> (7.7978, -2.0426) construction
  point P0 (0, -30)
  dimension "d92" = 3.744
properties part number "bart Y motor mount v2"
